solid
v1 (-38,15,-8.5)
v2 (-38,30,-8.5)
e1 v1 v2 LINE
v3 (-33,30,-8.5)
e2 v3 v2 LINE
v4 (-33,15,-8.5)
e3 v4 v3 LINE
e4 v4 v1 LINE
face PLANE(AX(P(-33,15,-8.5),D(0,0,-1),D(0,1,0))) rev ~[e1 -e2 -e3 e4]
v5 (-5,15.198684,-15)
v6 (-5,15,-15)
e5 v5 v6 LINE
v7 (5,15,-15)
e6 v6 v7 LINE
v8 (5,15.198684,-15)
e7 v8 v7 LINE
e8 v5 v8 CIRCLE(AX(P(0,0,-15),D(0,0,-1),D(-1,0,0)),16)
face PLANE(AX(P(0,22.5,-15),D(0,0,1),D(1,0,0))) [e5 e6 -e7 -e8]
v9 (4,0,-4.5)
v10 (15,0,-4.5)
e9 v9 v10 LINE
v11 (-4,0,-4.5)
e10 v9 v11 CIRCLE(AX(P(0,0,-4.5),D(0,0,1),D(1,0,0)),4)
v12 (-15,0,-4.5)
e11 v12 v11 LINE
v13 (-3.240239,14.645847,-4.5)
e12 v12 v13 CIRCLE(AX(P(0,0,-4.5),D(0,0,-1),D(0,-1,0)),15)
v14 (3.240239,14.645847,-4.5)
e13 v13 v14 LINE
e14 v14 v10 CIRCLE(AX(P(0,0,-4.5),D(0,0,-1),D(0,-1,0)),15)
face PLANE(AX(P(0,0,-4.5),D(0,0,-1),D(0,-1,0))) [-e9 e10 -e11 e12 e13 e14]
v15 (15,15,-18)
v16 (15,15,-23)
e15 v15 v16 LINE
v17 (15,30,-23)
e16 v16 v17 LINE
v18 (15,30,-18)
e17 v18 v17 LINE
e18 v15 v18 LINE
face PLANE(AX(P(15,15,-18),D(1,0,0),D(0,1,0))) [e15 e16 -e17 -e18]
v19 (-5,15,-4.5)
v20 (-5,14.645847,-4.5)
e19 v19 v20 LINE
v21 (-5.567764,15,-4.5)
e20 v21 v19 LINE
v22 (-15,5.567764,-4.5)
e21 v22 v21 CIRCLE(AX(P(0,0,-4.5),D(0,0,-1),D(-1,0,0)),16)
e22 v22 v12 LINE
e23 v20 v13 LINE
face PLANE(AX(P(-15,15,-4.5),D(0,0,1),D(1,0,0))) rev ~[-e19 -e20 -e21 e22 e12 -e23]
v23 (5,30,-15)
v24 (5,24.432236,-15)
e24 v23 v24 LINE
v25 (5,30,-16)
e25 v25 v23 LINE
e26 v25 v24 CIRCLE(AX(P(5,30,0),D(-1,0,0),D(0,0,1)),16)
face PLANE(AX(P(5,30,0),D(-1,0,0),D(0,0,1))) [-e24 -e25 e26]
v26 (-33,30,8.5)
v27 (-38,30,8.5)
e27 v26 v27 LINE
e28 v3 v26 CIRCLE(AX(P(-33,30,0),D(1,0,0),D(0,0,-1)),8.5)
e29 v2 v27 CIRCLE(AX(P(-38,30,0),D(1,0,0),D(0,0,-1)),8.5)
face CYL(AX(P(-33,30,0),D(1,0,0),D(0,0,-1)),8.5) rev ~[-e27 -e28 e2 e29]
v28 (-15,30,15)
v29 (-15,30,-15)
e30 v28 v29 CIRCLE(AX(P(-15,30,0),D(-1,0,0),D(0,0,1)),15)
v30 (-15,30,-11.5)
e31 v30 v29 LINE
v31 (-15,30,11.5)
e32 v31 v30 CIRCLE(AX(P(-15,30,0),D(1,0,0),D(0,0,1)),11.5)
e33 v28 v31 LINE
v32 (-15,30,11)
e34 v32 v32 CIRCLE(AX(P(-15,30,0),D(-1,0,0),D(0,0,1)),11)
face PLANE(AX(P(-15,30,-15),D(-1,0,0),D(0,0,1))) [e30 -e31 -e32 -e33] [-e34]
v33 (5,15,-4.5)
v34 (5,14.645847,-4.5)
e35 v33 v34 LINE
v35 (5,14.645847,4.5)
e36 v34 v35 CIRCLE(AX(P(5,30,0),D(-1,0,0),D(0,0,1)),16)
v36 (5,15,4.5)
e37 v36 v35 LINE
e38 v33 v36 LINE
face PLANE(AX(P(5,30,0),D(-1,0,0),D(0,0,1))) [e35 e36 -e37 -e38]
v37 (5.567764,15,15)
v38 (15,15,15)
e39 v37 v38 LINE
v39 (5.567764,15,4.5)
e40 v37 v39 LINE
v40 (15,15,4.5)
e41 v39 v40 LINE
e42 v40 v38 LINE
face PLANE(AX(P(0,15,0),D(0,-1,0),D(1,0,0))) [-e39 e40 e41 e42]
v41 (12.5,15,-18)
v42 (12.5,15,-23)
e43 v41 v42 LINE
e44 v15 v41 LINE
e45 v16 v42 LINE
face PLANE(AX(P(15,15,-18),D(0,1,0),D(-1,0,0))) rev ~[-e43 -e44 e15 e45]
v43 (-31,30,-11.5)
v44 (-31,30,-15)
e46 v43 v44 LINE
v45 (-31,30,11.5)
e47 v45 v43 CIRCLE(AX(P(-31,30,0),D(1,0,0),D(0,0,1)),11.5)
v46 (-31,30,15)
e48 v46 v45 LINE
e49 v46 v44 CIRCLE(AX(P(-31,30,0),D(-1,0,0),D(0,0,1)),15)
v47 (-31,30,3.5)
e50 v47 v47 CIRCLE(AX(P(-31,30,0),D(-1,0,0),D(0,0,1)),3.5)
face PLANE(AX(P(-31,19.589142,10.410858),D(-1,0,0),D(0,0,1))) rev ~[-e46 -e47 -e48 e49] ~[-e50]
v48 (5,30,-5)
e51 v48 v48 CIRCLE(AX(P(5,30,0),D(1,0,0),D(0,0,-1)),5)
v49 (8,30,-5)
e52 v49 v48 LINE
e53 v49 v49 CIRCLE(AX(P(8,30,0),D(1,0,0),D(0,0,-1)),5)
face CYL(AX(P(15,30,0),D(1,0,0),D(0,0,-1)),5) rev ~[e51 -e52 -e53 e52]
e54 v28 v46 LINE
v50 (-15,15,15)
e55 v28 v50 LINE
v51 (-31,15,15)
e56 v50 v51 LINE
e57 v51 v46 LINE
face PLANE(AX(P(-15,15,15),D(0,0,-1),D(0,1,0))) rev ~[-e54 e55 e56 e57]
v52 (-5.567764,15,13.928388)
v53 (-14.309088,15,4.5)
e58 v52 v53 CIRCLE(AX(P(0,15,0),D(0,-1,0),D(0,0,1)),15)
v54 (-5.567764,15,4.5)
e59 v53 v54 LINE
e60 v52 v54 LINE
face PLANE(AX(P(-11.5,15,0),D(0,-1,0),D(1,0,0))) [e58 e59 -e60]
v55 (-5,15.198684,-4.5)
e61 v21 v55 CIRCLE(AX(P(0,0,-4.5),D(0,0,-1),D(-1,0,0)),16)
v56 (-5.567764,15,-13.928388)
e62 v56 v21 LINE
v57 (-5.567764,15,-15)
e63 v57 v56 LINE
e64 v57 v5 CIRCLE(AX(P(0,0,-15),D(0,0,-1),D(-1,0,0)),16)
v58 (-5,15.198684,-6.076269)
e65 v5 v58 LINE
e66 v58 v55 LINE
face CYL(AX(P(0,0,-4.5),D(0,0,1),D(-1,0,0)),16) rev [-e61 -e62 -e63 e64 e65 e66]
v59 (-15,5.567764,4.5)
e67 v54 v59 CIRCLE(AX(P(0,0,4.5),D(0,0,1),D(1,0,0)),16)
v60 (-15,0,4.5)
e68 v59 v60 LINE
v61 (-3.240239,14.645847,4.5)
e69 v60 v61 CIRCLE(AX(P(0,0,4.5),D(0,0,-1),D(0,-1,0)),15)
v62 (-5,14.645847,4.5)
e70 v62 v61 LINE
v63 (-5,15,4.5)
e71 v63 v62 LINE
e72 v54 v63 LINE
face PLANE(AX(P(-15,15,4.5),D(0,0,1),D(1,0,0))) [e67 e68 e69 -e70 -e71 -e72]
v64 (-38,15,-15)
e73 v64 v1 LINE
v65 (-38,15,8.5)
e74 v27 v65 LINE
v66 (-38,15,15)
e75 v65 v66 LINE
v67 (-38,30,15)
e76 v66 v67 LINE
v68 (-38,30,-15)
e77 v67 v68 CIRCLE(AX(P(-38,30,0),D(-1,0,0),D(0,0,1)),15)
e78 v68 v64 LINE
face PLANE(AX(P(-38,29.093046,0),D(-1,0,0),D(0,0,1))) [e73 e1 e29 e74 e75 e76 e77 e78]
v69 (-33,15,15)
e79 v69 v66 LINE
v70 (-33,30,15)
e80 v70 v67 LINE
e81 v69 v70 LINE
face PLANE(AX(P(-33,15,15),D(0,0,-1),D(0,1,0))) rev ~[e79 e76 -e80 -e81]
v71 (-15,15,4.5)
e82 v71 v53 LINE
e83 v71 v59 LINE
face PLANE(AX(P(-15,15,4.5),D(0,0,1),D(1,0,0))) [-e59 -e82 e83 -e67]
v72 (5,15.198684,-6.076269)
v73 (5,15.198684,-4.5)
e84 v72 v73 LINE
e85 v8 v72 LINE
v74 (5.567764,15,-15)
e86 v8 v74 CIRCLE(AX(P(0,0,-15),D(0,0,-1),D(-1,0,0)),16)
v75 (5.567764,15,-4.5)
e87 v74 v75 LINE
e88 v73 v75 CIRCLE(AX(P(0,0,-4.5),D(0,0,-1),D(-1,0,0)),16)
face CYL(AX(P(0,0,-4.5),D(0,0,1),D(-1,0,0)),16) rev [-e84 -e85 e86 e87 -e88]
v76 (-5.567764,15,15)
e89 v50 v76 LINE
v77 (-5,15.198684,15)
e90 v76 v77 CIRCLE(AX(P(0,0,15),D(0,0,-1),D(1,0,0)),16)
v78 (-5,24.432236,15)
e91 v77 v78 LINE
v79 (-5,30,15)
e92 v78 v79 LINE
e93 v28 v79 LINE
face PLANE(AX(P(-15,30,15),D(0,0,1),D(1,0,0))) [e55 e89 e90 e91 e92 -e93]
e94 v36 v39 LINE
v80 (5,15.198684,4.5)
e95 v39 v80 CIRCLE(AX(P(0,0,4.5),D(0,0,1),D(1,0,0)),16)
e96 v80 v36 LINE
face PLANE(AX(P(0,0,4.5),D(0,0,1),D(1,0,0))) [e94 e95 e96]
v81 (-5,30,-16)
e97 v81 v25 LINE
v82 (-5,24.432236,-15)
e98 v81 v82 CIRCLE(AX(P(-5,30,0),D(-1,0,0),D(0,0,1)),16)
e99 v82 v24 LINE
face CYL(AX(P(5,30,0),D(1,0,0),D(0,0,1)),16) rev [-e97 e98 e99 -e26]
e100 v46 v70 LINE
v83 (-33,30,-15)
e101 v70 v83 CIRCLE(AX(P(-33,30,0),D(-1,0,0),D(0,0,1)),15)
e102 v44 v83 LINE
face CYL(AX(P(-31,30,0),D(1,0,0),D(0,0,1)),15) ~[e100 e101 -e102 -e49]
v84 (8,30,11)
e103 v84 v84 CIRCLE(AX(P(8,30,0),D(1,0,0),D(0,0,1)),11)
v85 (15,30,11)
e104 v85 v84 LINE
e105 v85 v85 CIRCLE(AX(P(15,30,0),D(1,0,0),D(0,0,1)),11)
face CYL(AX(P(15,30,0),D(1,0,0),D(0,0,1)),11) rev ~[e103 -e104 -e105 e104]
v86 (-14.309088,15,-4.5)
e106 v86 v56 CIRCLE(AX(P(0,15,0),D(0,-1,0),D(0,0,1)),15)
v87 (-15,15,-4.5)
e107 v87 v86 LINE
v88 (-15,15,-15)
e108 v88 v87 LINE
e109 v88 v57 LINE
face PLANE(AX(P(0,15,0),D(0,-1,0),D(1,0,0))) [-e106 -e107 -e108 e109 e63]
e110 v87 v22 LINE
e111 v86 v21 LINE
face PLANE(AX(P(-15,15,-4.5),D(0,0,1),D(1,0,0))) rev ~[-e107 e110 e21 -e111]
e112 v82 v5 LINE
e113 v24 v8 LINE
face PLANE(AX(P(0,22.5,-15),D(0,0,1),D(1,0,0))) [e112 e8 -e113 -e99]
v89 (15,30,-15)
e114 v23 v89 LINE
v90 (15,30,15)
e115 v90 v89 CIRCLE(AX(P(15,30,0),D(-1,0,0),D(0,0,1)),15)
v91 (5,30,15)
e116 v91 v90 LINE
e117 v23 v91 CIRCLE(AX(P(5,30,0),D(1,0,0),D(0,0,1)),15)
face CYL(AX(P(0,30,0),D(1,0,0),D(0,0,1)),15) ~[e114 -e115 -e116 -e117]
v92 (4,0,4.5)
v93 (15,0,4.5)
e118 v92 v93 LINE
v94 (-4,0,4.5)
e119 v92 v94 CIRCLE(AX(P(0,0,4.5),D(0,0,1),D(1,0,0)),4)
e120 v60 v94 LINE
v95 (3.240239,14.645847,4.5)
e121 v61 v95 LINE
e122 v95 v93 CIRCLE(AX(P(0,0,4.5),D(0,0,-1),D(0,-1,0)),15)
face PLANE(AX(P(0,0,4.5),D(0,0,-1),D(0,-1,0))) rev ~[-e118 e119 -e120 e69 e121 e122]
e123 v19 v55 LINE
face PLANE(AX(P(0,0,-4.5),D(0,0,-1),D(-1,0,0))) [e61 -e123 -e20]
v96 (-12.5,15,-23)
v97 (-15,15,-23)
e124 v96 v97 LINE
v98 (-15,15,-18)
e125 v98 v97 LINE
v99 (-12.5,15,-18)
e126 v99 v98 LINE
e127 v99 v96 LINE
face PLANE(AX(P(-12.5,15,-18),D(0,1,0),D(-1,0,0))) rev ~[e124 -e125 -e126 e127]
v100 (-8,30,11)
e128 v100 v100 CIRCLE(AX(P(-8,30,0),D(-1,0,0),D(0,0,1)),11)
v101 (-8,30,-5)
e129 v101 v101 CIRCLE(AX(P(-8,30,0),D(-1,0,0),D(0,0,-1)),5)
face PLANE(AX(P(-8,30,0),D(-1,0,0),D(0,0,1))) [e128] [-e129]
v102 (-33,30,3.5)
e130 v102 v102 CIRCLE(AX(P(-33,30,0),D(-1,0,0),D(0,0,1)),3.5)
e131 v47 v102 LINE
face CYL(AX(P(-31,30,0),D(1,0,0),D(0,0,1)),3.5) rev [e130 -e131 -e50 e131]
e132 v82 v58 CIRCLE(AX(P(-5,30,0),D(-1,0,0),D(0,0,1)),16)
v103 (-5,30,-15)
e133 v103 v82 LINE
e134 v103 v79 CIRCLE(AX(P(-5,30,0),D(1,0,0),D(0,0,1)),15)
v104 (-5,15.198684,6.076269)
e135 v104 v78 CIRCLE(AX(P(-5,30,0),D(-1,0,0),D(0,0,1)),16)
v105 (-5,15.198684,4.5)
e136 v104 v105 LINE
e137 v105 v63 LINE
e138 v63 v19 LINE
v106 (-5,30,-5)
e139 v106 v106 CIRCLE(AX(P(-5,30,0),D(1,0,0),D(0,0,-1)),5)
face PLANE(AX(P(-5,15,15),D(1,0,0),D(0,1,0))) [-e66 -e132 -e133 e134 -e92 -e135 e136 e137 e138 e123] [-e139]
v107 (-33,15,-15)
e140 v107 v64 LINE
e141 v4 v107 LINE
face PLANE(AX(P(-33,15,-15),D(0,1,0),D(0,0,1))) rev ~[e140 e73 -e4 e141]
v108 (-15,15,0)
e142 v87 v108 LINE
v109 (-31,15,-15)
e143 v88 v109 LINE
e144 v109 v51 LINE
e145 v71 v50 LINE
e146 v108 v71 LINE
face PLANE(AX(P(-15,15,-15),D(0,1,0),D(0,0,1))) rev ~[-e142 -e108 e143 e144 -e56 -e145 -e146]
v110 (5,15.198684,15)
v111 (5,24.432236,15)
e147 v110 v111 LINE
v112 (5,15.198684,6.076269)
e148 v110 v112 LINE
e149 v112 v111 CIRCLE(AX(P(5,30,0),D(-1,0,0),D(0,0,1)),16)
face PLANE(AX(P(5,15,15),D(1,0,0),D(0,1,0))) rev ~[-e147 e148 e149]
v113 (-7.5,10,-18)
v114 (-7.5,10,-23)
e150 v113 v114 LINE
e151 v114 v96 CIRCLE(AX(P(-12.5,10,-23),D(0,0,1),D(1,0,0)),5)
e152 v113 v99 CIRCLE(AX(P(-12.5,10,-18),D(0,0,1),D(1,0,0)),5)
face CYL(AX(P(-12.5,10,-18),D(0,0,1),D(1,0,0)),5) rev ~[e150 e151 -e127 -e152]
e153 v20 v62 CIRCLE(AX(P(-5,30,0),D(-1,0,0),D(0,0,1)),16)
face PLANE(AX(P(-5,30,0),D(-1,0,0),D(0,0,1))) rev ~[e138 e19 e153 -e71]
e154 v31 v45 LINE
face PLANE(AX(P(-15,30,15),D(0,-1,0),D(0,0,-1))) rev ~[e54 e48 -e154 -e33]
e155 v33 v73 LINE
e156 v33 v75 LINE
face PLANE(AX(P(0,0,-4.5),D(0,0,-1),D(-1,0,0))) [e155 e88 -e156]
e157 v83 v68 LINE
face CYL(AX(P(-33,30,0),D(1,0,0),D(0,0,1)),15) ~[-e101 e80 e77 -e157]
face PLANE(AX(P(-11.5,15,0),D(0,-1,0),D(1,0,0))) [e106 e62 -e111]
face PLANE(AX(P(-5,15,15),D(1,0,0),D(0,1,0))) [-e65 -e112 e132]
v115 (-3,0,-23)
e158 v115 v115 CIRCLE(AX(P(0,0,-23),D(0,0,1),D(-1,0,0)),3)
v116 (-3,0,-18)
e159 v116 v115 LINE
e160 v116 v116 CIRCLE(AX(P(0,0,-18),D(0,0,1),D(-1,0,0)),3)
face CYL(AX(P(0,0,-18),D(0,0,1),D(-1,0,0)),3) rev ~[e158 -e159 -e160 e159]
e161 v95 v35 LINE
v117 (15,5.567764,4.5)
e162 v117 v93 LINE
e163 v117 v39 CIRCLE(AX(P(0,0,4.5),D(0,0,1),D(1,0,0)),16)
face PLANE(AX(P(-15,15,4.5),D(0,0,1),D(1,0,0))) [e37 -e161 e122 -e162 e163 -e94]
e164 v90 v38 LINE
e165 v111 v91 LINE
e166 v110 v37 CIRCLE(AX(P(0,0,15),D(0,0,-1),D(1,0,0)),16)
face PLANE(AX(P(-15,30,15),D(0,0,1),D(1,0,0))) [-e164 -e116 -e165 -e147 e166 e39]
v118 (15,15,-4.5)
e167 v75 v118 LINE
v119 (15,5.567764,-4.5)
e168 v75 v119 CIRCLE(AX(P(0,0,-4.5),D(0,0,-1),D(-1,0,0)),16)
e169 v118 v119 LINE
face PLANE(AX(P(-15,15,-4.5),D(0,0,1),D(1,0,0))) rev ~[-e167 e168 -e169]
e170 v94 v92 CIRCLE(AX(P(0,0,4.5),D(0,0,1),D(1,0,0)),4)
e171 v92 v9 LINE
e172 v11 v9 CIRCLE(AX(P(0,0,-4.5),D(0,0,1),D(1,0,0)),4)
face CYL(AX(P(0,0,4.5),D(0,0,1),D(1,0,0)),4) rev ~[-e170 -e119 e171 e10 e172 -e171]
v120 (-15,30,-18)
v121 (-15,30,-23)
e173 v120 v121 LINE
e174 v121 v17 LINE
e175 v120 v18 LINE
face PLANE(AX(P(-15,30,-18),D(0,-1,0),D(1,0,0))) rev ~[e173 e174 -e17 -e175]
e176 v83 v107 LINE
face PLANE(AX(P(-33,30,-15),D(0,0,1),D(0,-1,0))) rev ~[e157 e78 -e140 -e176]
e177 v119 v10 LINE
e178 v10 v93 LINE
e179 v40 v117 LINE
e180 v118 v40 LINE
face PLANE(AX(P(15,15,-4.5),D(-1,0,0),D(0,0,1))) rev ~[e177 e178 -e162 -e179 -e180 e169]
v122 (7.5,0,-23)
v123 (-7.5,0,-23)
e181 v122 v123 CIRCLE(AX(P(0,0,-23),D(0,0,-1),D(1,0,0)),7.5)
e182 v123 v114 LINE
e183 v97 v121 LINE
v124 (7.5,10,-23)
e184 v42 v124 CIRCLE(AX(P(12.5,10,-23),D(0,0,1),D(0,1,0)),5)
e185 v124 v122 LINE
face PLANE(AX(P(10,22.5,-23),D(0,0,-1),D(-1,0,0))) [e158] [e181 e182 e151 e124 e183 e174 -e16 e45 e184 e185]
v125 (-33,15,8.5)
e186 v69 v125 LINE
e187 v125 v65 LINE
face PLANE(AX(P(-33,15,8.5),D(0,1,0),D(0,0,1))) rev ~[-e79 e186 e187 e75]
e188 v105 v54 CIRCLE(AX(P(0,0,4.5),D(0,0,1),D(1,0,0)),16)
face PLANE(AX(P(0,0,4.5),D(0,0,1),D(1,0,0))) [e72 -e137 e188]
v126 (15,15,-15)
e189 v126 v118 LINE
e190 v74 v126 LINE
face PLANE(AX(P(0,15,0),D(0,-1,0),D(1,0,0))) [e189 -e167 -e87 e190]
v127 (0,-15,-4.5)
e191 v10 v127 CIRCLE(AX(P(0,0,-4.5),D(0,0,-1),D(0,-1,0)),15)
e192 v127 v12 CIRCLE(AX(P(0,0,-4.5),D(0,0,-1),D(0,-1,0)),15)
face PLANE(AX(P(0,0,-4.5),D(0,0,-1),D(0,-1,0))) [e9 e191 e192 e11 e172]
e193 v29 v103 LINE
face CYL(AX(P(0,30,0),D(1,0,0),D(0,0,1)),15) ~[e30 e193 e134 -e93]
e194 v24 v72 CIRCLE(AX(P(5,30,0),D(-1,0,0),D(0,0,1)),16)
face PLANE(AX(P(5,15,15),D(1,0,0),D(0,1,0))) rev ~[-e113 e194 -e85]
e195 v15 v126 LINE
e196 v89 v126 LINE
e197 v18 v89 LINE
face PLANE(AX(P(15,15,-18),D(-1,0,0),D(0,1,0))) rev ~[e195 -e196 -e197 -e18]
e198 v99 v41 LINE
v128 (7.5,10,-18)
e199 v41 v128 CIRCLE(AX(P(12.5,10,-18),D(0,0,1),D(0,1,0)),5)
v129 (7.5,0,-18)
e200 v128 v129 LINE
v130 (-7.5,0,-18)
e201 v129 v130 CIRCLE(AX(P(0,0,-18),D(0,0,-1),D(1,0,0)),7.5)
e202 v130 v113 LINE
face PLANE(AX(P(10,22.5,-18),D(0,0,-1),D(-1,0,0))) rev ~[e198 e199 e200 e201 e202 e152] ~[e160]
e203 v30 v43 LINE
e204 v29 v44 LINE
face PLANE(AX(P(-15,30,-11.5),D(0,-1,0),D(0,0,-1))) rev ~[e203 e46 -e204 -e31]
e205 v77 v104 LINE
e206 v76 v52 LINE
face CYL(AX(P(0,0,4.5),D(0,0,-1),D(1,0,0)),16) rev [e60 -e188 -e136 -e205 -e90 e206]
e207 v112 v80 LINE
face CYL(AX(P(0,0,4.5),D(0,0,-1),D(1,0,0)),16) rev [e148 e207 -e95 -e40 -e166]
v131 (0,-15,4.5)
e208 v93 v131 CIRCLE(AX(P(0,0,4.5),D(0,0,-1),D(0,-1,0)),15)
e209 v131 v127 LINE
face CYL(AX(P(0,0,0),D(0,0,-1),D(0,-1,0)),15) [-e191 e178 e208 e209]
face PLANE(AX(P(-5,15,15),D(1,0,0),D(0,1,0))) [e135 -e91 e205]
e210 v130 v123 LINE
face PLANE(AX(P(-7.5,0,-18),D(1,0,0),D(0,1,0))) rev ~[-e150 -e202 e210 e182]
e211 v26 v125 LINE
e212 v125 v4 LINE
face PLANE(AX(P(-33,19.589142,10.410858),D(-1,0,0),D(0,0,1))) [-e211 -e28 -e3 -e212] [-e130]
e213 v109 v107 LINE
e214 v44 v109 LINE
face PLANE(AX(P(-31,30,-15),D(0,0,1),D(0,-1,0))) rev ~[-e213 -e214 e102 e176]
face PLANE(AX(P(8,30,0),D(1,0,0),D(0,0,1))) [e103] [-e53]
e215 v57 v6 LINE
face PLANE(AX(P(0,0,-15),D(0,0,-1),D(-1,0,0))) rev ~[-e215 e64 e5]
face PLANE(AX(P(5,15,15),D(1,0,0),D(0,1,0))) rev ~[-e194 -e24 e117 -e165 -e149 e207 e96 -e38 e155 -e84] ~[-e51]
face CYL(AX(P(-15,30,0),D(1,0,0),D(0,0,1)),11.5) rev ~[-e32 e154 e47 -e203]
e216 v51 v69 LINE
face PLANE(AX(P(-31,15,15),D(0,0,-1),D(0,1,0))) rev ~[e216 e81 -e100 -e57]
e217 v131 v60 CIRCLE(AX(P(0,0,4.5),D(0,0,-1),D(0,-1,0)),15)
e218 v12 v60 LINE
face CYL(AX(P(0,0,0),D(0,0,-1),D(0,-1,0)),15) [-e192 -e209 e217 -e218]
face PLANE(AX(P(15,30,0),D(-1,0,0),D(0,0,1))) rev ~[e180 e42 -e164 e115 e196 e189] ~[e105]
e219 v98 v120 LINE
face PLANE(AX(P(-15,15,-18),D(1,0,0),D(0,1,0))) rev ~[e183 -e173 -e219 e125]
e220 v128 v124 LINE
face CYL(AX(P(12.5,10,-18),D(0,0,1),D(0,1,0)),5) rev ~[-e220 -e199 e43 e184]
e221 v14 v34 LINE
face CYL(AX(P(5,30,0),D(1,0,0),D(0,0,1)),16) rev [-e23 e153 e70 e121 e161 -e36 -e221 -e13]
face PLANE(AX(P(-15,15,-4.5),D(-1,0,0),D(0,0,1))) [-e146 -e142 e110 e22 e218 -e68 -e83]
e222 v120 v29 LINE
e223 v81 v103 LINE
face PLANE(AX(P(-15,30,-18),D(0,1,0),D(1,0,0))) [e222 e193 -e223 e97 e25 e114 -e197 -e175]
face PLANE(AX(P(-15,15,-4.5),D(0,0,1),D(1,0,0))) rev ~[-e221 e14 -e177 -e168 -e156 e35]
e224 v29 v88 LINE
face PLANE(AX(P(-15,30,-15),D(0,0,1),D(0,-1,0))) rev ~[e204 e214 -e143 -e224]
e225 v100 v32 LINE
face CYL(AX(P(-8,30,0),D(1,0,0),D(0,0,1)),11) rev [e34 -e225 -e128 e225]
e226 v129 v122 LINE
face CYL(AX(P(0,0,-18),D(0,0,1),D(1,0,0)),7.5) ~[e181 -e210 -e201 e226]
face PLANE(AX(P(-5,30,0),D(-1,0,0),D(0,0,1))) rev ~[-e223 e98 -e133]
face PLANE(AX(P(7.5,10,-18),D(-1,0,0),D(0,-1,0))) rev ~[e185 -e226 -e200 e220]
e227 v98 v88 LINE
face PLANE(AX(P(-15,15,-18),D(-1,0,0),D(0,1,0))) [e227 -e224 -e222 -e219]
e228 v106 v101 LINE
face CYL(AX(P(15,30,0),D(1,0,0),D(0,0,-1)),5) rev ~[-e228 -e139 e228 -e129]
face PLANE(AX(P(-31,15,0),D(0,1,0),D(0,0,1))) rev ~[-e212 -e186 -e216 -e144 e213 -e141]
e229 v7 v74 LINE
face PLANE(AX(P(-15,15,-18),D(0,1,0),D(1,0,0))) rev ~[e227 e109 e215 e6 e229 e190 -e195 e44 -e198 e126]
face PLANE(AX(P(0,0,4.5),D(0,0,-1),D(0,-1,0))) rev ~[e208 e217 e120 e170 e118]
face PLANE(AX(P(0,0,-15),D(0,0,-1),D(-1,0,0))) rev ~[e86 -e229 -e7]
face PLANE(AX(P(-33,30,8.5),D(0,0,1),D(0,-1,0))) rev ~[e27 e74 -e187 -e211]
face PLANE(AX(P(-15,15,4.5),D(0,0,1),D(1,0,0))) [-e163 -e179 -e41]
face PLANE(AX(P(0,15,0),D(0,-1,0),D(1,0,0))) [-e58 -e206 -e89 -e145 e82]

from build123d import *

# Parameters (mm, degrees)
SKETCH1_R           = 15
BOSS_EXTRUDE1_DEPTH = 30
SKETCH8_W           = 30
SKETCH8_H           = 15
REVOLVE1_ANGLE      = 180
SKETCH9_W           = 30
SKETCH9_H           = 30
BOSS_EXTRUDE3_DEPTH = 15
SKETCH10_R          = 5
CUT_EXTRUDE1_DEPTH  = 30
SKETCH13_R          = 16
CUT_EXTRUDE2_DEPTH  = 10
SKETCH14_W          = 10
SKETCH14_H          = 15
CUT_EXTRUDE3_DEPTH  = 67
CUT_EXTRUDE4_START  = -7
SKETCH15_R          = 11
SKETCH15_R_2        = 5
CUT_EXTRUDE4_DEPTH  = 7
SKETCH16_R          = 11
SKETCH16_R_2        = 5
CUT_EXTRUDE5_DEPTH  = 7
SKETCH17_R          = 15
SKETCH17_R_2        = 8
SKETCH17_R_3        = 3.5
BOSS_EXTRUDE4_DEPTH = 2
BOSS_EXTRUDE5_DEPTH = 5
BOSS_EXTRUDE6_DEPTH = 16
SKETCH21_W          = 53
SKETCH21_H          = 30
CUT_EXTRUDE7_DEPTH  = 20
SKETCH23_W          = 15
SKETCH23_H          = 9
SKETCH24_W          = 30
SKETCH24_H          = 9
BOSS_EXTRUDE7_DEPTH = 15
SKETCH25_R          = 4
CUT_EXTRUDE8_DEPTH  = 15
BOSS_EXTRUDE8_START = 3
SKETCH26_W          = 10
SKETCH26_H          = 15
BOSS_EXTRUDE8_DEPTH = 5
SKETCH30_W          = 30
SKETCH30_H          = 15
BOSS_EXTRUDE9_DEPTH = 3
SKETCH27_R          = 16
CUT_EXTRUDE9_DEPTH  = 16
SKETCH28_R          = 16
CUT_EXTRUDE10_DEPTH = 10.5
SKETCH29_R          = 16
CUT_EXTRUDE12_DEPTH = 10


with BuildPart() as part:
    # Sketch1 → Boss-Extrude1 (new body)
    with BuildSketch(Plane(origin=(0, 0, 0), x_dir=(1, 0, 0), z_dir=(0, 1, 0))):
        with Locations(Location((0, 0, 0), (0, 0, 270))):
            Circle(SKETCH1_R)
    extrude(amount=BOSS_EXTRUDE1_DEPTH)

    # Sketch8 → Revolve1 (revolve)
    with BuildSketch(Plane(origin=(0, 30, 0), x_dir=(1, 0, 0), z_dir=(0, 1, 0))):
        with Locations((0, -7.5)):
            Rectangle(SKETCH8_W, SKETCH8_H)
    revolve(axis=Axis((15, 30, 0), (-1, 0, 0)), revolution_arc=REVOLVE1_ANGLE)

    # Sketch9 → Boss-Extrude3 (add)
    with BuildSketch(Plane.XZ.offset(-30)):
        Rectangle(SKETCH9_W, SKETCH9_H)
    extrude(amount=BOSS_EXTRUDE3_DEPTH)

    # Sketch10 → Cut-Extrude1 (cut)
    with BuildSketch(Plane(origin=(15, 0, 0), x_dir=(0, 0, -1), z_dir=(1, 0, 0))):
        with Locations((0, 30)):
            Circle(SKETCH10_R)
    extrude(amount=-CUT_EXTRUDE1_DEPTH, mode=Mode.SUBTRACT)

    # Sketch13 → Cut-Extrude2 (cut)
    with BuildSketch(Plane(origin=(5, 0, 0), x_dir=(0, 0, -1), z_dir=(1, 0, 0))):
        with Locations((0, 30)):
            Circle(SKETCH13_R)
    extrude(amount=-CUT_EXTRUDE2_DEPTH, mode=Mode.SUBTRACT)

    # Sketch14 → Cut-Extrude3 (cut)
    with BuildSketch(Plane.XY.offset(15)):
        with Locations((0, 22.5)):
            Rectangle(SKETCH14_W, SKETCH14_H)
    extrude(amount=-CUT_EXTRUDE3_DEPTH, mode=Mode.SUBTRACT)

    # Sketch15 → Cut-Extrude4 (cut)
    with BuildSketch(Plane.ZY.offset(15).offset(CUT_EXTRUDE4_START)):
        with Locations((0, 30)):
            Circle(SKETCH15_R)
        with Locations(Location((0, 30, 0), (0, 0, 180))):
            Circle(SKETCH15_R_2, mode=Mode.SUBTRACT)
    extrude(amount=CUT_EXTRUDE4_DEPTH, mode=Mode.SUBTRACT)

    # Sketch16 → Cut-Extrude5 (cut)
    with BuildSketch(Plane(origin=(15, 0, 0), x_dir=(0, 0, -1), z_dir=(1, 0, 0))):
        with Locations(Location((0, 30, 0), (0, 0, 180))):
            Circle(SKETCH16_R)
        with Locations((0, 30)):
            Circle(SKETCH16_R_2, mode=Mode.SUBTRACT)
    extrude(amount=-CUT_EXTRUDE5_DEPTH, mode=Mode.SUBTRACT)



with BuildPart() as body_2:
    # Sketch17 → Boss-Extrude4 (new body)
    # profile 1 of 4: a face of its own
    with BuildSketch(Plane.ZY.offset(31)):
        with Locations((0, 30)):
            Circle(SKETCH17_R)
        with Locations((0, 30)):
            Circle(SKETCH17_R_2, mode=Mode.SUBTRACT)
    # profile 2 of 4: a face of its own
    with BuildSketch(Plane.ZY.offset(31)):
        with Locations((0, 30)):
            Circle(SKETCH17_R_2)
        with Locations((0, 30)):
            Circle(SKETCH17_R_3, mode=Mode.SUBTRACT)
    # profile 3 of 4: a face of its own
    with BuildSketch(Plane.ZY.offset(31)):
        with BuildLine():
            ThreePointArc((0, 15), (-10.606601718, 19.393398282), (-15, 30))
            Line((-15, 30), (-15, 15))
            Line((-15, 15), (0, 15))
        make_face()
    # profile 4 of 4: a face of its own
    with BuildSketch(Plane.ZY.offset(31)):
        with BuildLine():
            Line((15, 15), (15, 30))
            ThreePointArc((15, 30), (10.606601718, 19.393398282), (0, 15))
            Line((0, 15), (15, 15))
        make_face()
    extrude(amount=BOSS_EXTRUDE4_DEPTH)

    # Sketch18 → Boss-Extrude5 (add)
    with BuildSketch(Plane.ZY.offset(33)):
        with BuildLine():
            ThreePointArc((-8.5, 30), (0, 38.5), (8.5, 30))
            Line((8.5, 30), (8.5, 15))
            Line((8.5, 15), (15, 15))
            Line((15, 15), (15, 30))
            ThreePointArc((15, 30), (0, 45), (-15, 30))
            Line((-15, 30), (-15, 15))
            Line((-15, 15), (-8.5, 15))
            Line((-8.5, 15), (-8.5, 30))
        make_face()
    extrude(amount=BOSS_EXTRUDE5_DEPTH)


with BuildPart() as part_1:
    add(part.part)

    add(body_2.part)  # Boss-Extrude6 merges body 2
    # Sketch20 → Boss-Extrude6 (add)
    with BuildSketch(Plane.ZY.offset(15)):
        with BuildLine():
            ThreePointArc((11.5, 30), (0, 18.5), (-11.5, 30))
            Line((-11.5, 30), (-15, 30))
            Line((-15, 30), (-15, 15))
            Line((-15, 15), (0, 15))
            Line((0, 15), (15, 15))
            Line((15, 15), (15, 30))
            Line((15, 30), (11.5, 30))
        make_face()
    extrude(amount=BOSS_EXTRUDE6_DEPTH)

    # Sketch21 → Cut-Extrude7 (cut)
    with BuildSketch(Plane.XZ.offset(-15)):
        with Locations((-11.5, 0)):
            Rectangle(SKETCH21_W, SKETCH21_H)
    extrude(amount=CUT_EXTRUDE7_DEPTH, mode=Mode.SUBTRACT)


with BuildPart() as cut_extrude7_piece_1:
    # of the separate pieces the step leaves, piece 1, a body of its own (cut_extrude7_pieces)
    add(part_1.part.solids().sort_by_distance((-31, 30, 15))[0])



with BuildPart() as cut_extrude7_piece_2:
    # of the separate pieces the step leaves, piece 2, a body of its own (cut_extrude7_pieces)
    add(part_1.part.solids().sort_by_distance((5, 15, -15))[0])


with BuildPart() as body_3:
    # Sketch23 → Revolve2 (revolve)
    with BuildSketch(Plane(origin=(0, 0, 0), x_dir=(-1, 0, 0), z_dir=(0, -1, 0)), mode=Mode.PRIVATE) as revolve2_sk:
        with Locations((-7.5, 0)):
            Rectangle(SKETCH23_W, SKETCH23_H)
    revolve(revolve2_sk.sketch.rotate(Axis((0, 0, 4.5), (0, 0, -1)), 90), axis=Axis((0, 0, 4.5), (0, 0, -1)))


with BuildPart() as cut_extrude7_piece_1_1:
    add(cut_extrude7_piece_1.part)

    add(cut_extrude7_piece_2.part)  # Boss-Extrude7 merges Cut-Extrude7 piece 2

    add(body_3.part)  # Boss-Extrude7 merges body 3
    # Sketch24 → Boss-Extrude7 (add)
    with BuildSketch(Plane.XZ.offset(-15)):
        Rectangle(SKETCH24_W, SKETCH24_H)
    extrude(amount=BOSS_EXTRUDE7_DEPTH)

    # Sketch25 → Cut-Extrude8 (cut)
    with BuildSketch(Plane.XY.offset(4.5)):
        Circle(SKETCH25_R)
    extrude(amount=-CUT_EXTRUDE8_DEPTH, mode=Mode.SUBTRACT)



with BuildPart() as body_2_2:
    # Sketch26 → Boss-Extrude8 (new body)
    with BuildSketch(Plane(origin=(0, 0, -15), x_dir=(-1, 0, 0), z_dir=(0, 0, -1)).offset(BOSS_EXTRUDE8_START)):
        with Locations((-10, 22.5)):
            Rectangle(SKETCH26_W, SKETCH26_H)
        with BuildLine():
            Line((15, 30), (-5, 30))
            Line((-5, 30), (-5, 15))
            Line((-5, 15), (-12.5, 15))
            ThreePointArc((-12.5, 15), (-8.964466094, 13.535533906), (-7.5, 10))
            Line((-7.5, 10), (-7.5, 0))
            ThreePointArc((-7.5, 0), (0, 7.5), (7.5, 0))
            Line((7.5, 0), (7.5, 10))
            ThreePointArc((7.5, 10), (8.964466094, 13.535533906), (12.5, 15))
            Line((12.5, 15), (15, 15))
            Line((15, 15), (15, 30))
        make_face()
        with BuildLine():
            ThreePointArc((7.5, 0), (0, 7.5), (-7.5, 0))
            Line((-7.5, 0), (-3, 0))
            ThreePointArc((-3, 0), (0, 3), (3, 0))
            Line((3, 0), (7.5, 0))
        make_face()
        with BuildLine():
            Line((-3, 0), (-7.5, 0))
            ThreePointArc((-7.5, 0), (0, -7.5), (7.5, 0))
            Line((7.5, 0), (3, 0))
            ThreePointArc((3, 0), (0, -3), (-3, 0))
        make_face()
    extrude(amount=BOSS_EXTRUDE8_DEPTH)


with BuildPart() as cut_extrude7_piece_1_2:
    add(cut_extrude7_piece_1_1.part)

    add(body_2_2.part)  # Boss-Extrude9 merges body 2 2
    # Sketch30 → Boss-Extrude9 (add)
    with BuildSketch(Plane.XY.offset(-18)):
        with Locations((0, 22.5)):
            Rectangle(SKETCH30_W, SKETCH30_H)
    extrude(amount=BOSS_EXTRUDE9_DEPTH)

    # Sketch27 → Cut-Extrude9 (cut)
    with BuildSketch(Plane.XY.offset(4.5)):
        Circle(SKETCH27_R)
    extrude(amount=CUT_EXTRUDE9_DEPTH, mode=Mode.SUBTRACT)

    # Sketch28 → Cut-Extrude10 (cut)
    with BuildSketch(Plane(origin=(0, 0, -4.5), x_dir=(-1, 0, 0), z_dir=(0, 0, -1))):
        Circle(SKETCH28_R)
    extrude(amount=CUT_EXTRUDE10_DEPTH, mode=Mode.SUBTRACT)

    # Sketch29 → Cut-Extrude12 (cut)
    with BuildSketch(Plane.ZY.offset(-5)):
        with Locations((0, 30)):
            Circle(SKETCH29_R)
    extrude(amount=CUT_EXTRUDE12_DEPTH, mode=Mode.SUBTRACT)


solid = cut_extrude7_piece_1_2.part
